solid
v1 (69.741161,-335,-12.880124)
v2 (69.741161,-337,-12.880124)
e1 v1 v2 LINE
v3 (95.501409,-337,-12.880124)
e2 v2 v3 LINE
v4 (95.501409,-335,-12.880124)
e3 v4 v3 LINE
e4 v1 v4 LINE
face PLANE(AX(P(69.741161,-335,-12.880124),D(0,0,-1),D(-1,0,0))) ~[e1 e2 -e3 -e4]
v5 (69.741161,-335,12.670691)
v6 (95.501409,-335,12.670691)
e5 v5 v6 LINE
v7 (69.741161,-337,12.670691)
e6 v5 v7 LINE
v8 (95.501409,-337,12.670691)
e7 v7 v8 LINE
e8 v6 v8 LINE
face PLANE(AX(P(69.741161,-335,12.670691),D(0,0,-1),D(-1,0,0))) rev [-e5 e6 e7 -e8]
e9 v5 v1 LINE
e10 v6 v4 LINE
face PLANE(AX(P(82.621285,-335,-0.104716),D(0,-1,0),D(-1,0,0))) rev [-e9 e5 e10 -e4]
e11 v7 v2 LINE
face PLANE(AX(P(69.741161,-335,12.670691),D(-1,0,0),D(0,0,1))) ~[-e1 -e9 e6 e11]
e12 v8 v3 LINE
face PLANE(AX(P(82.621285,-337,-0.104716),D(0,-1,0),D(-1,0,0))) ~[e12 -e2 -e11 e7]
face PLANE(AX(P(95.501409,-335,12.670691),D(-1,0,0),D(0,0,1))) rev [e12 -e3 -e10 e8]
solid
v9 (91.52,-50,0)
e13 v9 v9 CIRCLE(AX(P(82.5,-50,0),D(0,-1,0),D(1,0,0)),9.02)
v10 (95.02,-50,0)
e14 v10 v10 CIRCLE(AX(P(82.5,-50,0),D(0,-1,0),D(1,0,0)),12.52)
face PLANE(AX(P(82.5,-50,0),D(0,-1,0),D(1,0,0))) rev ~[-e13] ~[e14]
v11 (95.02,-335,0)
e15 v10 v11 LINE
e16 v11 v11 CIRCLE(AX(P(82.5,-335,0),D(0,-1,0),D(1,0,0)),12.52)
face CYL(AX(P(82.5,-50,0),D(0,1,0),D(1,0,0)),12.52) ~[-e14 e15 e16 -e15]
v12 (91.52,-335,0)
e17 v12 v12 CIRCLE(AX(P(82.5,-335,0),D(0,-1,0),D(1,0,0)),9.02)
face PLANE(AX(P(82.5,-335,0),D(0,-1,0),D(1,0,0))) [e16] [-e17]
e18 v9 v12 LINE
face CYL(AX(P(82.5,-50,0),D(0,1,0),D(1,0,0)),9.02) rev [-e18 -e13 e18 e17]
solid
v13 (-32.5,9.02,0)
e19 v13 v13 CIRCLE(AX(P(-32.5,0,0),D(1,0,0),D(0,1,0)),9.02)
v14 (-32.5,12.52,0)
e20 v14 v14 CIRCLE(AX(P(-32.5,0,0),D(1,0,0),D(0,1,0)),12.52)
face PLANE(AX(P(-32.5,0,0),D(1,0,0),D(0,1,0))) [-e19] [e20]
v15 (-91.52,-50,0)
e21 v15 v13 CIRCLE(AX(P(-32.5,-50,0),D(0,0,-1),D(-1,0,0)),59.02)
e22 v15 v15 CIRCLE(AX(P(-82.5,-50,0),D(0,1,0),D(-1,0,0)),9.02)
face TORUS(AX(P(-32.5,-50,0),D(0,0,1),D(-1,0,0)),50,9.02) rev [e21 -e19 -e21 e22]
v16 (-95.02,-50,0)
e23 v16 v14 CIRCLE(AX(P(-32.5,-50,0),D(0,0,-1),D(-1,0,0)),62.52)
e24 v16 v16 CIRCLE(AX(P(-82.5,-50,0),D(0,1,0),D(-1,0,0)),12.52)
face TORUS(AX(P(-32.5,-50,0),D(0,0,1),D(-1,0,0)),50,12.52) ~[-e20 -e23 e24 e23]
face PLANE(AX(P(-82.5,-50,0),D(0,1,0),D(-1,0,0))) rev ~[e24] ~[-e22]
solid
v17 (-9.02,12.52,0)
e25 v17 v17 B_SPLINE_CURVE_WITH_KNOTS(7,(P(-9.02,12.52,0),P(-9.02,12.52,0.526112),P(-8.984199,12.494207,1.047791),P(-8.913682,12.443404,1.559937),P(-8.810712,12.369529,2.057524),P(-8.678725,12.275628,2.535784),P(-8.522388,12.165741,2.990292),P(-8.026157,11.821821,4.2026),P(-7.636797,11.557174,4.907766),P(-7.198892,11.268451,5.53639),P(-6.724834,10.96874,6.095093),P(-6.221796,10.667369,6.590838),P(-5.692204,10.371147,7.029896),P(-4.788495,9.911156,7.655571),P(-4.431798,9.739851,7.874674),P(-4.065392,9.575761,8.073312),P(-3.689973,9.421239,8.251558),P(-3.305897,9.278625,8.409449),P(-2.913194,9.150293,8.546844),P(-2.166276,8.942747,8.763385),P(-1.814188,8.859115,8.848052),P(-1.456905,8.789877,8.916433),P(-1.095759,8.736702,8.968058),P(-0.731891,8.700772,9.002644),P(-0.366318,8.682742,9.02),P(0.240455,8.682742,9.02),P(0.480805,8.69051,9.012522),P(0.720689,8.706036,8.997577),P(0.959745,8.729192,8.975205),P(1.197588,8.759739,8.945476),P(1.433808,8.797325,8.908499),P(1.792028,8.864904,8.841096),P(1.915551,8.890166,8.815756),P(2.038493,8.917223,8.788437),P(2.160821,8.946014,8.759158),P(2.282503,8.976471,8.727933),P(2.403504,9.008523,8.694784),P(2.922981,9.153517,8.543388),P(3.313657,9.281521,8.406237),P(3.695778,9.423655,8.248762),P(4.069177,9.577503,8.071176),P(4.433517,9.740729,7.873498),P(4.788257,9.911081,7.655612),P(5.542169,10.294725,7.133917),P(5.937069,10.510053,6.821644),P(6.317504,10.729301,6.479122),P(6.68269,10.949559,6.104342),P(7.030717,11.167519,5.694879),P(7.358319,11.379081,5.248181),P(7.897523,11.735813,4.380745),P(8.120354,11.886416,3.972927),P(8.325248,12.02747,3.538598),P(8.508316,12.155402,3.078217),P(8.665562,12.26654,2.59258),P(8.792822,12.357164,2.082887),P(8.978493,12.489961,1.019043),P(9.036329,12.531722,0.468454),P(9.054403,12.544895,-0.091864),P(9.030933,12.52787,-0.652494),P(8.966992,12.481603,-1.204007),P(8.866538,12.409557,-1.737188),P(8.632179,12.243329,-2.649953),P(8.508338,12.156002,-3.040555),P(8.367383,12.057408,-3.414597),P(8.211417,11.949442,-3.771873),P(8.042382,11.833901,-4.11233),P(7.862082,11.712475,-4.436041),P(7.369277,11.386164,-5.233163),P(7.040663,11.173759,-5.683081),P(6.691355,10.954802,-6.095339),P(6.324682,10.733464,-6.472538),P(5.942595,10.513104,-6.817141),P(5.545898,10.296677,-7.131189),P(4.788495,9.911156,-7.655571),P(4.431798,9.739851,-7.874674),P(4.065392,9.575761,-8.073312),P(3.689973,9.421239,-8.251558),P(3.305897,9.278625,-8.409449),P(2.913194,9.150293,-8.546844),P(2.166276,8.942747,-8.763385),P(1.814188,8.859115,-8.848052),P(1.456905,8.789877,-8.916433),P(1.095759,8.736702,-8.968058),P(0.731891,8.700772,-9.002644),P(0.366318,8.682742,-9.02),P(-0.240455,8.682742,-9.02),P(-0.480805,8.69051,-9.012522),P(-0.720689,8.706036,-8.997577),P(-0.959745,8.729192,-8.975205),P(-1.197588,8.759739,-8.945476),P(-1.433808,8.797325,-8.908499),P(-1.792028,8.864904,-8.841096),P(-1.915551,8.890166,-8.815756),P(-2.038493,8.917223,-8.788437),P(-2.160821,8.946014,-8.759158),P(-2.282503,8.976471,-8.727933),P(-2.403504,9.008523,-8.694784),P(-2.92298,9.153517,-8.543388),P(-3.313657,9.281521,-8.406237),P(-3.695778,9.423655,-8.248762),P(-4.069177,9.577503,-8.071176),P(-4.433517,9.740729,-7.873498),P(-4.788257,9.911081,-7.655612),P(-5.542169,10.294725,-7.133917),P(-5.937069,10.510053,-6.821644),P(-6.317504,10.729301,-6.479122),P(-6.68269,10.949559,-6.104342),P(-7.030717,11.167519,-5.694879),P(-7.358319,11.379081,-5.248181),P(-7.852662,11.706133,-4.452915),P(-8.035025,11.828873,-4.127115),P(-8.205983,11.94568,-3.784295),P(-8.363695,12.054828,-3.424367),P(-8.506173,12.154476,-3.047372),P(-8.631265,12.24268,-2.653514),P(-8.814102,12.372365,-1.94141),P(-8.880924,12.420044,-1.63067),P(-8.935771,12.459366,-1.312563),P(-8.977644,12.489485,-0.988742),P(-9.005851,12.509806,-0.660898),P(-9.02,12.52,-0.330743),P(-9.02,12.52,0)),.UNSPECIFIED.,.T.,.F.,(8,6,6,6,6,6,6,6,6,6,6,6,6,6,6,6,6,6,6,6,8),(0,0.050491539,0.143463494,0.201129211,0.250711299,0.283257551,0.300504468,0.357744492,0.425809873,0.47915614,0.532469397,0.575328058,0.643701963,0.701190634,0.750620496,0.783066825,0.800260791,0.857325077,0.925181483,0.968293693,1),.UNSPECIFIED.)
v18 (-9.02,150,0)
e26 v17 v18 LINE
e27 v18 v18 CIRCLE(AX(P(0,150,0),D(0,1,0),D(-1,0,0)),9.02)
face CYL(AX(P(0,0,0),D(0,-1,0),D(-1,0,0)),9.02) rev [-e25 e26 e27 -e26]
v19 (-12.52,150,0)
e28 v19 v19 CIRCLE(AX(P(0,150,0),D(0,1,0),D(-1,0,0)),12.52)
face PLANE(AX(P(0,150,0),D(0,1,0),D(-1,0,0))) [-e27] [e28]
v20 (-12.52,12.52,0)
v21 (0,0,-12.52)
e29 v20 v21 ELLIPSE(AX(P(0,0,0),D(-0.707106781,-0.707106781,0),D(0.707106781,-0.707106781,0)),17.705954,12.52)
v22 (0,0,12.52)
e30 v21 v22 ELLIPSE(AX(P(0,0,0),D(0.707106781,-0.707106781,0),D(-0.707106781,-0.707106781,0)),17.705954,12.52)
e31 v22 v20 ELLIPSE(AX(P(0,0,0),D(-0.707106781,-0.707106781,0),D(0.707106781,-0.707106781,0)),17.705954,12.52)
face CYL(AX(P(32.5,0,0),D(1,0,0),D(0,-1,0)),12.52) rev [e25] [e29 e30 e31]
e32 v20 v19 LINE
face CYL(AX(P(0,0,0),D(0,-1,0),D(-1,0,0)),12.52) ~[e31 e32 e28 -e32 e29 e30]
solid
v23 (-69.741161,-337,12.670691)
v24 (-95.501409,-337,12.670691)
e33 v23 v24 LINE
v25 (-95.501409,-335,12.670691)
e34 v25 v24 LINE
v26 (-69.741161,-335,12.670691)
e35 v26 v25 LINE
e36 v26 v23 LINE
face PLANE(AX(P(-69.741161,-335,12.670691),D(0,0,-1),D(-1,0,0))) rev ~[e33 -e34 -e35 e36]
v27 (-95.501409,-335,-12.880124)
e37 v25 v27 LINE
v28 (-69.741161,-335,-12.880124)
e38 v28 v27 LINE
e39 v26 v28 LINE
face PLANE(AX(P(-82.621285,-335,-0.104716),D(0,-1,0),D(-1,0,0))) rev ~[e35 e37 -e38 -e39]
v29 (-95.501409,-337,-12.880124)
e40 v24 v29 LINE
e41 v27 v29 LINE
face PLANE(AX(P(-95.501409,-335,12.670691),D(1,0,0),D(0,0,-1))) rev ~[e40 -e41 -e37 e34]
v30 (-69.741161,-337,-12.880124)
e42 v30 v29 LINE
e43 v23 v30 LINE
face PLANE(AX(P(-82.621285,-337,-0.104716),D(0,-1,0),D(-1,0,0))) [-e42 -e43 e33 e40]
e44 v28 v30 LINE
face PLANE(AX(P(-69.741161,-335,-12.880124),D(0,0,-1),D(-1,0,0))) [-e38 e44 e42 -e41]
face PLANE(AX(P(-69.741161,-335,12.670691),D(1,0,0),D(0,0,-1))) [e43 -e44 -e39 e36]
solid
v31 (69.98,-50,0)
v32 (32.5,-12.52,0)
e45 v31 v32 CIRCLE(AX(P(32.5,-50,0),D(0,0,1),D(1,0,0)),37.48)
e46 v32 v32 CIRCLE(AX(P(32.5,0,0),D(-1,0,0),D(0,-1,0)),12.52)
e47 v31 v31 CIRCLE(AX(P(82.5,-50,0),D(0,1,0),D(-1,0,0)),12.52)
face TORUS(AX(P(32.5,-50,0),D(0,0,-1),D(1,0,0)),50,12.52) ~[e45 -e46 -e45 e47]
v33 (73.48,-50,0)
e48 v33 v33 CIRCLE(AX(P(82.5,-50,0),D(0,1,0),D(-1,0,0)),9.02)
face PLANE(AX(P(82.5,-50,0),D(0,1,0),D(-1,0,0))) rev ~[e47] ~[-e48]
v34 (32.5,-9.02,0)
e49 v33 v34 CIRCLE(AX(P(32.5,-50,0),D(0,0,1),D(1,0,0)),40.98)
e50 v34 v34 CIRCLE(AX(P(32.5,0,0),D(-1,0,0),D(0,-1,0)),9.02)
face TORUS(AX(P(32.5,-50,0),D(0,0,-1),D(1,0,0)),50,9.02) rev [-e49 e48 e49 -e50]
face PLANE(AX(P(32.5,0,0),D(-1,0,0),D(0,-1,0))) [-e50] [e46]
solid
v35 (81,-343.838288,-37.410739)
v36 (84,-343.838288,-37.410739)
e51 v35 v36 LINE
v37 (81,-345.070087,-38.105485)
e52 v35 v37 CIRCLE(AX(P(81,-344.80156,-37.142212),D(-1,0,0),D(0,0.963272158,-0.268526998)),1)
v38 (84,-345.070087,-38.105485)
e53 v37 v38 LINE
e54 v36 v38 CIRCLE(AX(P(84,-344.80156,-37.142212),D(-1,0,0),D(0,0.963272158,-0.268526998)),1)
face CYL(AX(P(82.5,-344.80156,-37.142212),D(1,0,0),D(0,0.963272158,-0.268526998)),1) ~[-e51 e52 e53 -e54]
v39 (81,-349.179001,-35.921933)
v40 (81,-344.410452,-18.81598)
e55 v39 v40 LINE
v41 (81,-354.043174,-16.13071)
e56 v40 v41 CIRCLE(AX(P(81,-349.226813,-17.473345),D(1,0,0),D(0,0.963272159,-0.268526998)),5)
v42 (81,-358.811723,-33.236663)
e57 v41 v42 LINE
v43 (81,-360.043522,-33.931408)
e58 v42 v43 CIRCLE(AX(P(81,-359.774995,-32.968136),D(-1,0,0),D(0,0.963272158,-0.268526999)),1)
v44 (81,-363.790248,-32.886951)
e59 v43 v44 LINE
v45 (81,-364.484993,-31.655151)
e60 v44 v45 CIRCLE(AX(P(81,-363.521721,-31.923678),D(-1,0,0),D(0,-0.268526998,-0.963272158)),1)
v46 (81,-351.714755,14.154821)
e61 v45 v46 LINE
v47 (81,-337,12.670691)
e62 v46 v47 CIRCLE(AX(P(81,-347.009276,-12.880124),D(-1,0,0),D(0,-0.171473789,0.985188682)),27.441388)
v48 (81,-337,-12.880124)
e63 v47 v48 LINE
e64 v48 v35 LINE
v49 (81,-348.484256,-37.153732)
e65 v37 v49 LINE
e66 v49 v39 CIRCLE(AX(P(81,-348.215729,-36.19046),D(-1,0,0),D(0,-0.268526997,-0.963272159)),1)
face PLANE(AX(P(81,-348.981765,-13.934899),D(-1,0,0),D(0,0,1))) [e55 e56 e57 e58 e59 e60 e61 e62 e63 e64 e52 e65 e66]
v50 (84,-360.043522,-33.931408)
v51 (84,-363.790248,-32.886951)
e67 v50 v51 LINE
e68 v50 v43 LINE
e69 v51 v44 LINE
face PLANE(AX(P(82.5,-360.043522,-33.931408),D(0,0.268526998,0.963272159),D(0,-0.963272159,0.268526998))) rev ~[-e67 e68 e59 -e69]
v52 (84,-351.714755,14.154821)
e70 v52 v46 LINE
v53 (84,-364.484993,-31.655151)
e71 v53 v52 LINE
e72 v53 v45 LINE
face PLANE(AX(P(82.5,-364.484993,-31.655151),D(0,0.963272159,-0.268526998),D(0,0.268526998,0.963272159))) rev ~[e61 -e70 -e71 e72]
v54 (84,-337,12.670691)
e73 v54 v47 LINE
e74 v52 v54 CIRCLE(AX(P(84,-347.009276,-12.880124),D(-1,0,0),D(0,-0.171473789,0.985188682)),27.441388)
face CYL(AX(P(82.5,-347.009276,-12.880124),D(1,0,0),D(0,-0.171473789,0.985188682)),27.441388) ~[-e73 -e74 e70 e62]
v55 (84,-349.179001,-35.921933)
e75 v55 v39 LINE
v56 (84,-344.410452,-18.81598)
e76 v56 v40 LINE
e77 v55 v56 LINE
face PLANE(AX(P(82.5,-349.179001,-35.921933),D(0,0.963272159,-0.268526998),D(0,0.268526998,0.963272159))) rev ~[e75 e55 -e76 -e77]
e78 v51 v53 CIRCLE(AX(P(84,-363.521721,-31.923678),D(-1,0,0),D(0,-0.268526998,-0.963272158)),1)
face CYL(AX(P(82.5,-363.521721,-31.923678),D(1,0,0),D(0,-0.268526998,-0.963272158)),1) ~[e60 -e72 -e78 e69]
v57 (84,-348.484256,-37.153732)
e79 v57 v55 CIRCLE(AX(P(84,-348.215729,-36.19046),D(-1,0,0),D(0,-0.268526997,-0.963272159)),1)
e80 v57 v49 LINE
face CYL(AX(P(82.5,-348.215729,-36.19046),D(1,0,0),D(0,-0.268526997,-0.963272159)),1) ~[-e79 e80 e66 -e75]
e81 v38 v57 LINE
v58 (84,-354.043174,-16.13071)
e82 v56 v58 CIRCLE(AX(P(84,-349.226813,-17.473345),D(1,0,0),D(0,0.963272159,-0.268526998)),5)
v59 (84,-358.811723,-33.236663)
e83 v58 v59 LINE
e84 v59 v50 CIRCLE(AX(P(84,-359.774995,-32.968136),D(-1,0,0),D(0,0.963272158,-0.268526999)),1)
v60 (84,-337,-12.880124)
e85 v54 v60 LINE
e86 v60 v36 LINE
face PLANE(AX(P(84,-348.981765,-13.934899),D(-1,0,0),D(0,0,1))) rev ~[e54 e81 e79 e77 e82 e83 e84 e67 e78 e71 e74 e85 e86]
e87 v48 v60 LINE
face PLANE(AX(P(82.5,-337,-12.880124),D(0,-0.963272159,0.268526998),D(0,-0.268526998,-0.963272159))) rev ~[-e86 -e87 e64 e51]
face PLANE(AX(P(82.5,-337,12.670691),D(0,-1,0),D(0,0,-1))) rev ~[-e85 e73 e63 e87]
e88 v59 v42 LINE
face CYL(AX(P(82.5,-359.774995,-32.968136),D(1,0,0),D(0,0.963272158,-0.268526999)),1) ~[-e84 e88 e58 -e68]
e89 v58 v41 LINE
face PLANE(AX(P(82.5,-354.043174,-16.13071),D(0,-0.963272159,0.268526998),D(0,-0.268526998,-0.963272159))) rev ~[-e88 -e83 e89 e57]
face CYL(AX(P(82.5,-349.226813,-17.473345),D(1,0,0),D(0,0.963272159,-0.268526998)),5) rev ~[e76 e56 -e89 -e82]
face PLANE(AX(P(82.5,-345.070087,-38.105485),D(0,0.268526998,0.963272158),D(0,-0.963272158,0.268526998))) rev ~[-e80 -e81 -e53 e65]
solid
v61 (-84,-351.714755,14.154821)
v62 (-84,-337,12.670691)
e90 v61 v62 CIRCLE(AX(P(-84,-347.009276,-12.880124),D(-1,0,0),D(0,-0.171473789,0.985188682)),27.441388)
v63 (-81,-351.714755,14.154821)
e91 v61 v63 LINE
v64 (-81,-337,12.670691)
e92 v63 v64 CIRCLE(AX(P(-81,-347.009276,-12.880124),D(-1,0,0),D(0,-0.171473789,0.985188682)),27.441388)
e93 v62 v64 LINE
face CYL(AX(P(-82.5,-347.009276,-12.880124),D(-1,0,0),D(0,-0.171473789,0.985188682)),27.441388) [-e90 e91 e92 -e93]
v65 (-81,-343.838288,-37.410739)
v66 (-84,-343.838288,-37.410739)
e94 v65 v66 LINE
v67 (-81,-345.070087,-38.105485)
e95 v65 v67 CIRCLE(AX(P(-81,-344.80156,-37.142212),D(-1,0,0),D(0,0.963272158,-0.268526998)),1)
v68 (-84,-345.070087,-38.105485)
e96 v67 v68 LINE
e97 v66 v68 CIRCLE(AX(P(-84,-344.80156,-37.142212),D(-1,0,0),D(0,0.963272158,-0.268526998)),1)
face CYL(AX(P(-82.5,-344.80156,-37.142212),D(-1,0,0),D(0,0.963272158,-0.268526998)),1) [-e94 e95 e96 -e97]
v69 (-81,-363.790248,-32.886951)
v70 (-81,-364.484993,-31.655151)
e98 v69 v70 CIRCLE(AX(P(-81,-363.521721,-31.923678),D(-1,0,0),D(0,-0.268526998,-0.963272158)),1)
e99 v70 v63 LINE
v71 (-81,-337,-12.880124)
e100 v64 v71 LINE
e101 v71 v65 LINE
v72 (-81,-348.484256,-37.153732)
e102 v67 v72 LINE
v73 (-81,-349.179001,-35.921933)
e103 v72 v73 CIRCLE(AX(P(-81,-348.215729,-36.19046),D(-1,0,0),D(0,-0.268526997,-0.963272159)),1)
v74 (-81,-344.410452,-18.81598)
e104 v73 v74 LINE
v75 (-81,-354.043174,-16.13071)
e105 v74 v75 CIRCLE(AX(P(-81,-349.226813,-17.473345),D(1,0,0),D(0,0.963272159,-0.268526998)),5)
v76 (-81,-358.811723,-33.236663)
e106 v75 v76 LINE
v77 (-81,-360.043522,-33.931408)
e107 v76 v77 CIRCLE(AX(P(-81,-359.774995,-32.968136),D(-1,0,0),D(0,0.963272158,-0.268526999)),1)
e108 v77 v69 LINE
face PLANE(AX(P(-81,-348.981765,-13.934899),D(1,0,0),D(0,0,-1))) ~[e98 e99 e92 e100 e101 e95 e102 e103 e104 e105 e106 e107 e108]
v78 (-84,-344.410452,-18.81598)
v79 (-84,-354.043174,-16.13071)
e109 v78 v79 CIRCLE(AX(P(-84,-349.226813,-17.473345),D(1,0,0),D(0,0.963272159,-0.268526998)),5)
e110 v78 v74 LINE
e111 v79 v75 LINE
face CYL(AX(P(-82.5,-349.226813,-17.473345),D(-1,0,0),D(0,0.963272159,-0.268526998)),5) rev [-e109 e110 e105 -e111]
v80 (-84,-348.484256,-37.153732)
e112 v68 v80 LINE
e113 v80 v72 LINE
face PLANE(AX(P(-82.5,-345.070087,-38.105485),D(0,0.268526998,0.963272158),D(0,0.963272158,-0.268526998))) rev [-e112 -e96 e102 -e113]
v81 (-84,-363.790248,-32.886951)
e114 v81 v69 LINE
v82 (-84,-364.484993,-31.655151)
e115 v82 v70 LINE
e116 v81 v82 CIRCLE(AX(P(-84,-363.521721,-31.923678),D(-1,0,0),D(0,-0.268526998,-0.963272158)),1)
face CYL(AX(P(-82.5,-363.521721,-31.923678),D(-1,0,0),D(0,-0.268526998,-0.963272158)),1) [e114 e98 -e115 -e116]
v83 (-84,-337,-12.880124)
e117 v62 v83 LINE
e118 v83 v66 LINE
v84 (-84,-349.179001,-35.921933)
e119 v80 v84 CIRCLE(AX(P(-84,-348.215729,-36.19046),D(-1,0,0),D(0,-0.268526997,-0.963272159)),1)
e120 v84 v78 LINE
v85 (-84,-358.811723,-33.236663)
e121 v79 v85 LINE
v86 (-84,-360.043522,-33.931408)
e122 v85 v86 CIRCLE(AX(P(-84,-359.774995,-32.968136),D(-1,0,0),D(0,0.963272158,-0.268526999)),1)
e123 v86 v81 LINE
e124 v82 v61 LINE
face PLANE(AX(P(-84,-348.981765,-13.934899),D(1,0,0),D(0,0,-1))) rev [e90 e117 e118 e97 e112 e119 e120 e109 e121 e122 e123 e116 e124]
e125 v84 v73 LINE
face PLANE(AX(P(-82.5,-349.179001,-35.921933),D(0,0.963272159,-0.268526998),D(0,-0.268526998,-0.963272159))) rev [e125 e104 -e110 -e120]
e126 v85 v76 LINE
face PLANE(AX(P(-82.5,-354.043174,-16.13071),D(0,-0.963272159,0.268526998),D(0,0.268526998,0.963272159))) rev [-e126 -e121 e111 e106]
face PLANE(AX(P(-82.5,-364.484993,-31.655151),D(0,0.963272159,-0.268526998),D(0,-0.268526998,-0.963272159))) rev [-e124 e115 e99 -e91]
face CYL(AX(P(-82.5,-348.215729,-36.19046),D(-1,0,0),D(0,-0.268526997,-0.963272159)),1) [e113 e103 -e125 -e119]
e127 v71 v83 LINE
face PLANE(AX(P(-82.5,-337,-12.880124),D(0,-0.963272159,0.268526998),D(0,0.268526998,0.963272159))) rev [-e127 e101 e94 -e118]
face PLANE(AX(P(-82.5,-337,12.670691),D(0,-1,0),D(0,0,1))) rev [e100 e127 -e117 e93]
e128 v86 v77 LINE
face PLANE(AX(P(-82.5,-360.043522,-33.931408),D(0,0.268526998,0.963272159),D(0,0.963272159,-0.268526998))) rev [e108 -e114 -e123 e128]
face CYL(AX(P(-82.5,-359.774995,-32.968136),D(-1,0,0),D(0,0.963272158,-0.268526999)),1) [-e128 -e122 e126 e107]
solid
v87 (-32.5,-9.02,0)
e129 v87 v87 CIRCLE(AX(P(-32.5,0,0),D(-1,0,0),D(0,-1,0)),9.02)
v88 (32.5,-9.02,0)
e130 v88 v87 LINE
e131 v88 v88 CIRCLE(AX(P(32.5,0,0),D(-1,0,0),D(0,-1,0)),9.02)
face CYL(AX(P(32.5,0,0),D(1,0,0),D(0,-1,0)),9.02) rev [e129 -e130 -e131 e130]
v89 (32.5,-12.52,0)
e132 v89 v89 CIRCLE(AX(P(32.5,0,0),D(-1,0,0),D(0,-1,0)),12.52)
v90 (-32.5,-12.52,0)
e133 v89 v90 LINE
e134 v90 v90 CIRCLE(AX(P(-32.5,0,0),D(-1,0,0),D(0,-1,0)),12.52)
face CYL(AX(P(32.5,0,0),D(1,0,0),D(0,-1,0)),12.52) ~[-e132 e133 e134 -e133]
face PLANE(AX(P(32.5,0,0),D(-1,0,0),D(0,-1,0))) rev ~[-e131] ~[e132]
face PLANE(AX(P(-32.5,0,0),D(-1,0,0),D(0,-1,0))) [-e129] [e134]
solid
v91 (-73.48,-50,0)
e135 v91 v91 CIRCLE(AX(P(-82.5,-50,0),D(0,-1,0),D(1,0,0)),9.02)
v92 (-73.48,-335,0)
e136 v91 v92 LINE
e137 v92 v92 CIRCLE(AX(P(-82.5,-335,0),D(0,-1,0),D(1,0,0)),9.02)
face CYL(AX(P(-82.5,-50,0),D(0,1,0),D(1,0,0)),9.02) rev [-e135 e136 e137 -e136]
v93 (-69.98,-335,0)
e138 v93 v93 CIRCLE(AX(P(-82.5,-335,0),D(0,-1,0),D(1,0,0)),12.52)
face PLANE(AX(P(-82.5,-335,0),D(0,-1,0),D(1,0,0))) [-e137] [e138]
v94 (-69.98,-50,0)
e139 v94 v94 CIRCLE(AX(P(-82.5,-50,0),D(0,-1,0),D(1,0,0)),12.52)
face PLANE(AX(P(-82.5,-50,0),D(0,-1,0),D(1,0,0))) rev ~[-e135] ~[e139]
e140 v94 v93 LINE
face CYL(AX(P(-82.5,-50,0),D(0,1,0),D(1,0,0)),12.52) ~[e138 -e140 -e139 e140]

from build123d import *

# Parameters (mm, degrees)
SKETCH11_ON_SEGMENT_1_R       = 12.52
SKETCH11_ON_SEGMENT_1_R_2     = 9.02
NEW_FOLDER_FORK_ROD_1_DEPTH   = 285
SKETCH11_ON_SEGMENT_2_R       = 12.52
SKETCH11_ON_SEGMENT_2_R_2     = 9.02
NEW_FOLDER_FORK_ROD_1_2_ANGLE = 90
SKETCH11_ON_SEGMENT_3_R       = 12.52
SKETCH11_ON_SEGMENT_3_R_2     = 9.02
NEW_FOLDER_FORK_ROD_1_3_DEPTH = 65
SKETCH11_ON_SEGMENT_4_R       = 12.52
SKETCH11_ON_SEGMENT_4_R_2     = 9.02
NEW_FOLDER_FORK_ROD_1_4_ANGLE = 90
SKETCH11_R                    = 12.52
SKETCH11_R_2                  = 9.02
NEW_FOLDER_FORK_ROD_1_5_DEPTH = 285
SKETCH12_R                    = 12.52
SKETCH12_R_2                  = 9.02
NEW_FOLDER_FORK_ROD_2_DEPTH   = 150
SKETCH13_W                    = 25.760248547
SKETCH13_H                    = 25.550815633
BOSS_EXTRUDE1_DEPTH           = 2
BOSS_EXTRUDE2_DEPTH           = 1.5


with BuildPart() as part:
    # Sketch11 on segment 1 (carried to segment 1) → New folder FORK ROD(1) (new body)
    with BuildSketch(Plane(origin=(82.5, -50, 0), x_dir=(1, 0, 0), z_dir=(0, -1, 0))):
        Circle(SKETCH11_ON_SEGMENT_1_R)
        Circle(SKETCH11_ON_SEGMENT_1_R_2, mode=Mode.SUBTRACT)
    extrude(amount=NEW_FOLDER_FORK_ROD_1_DEPTH)


with BuildPart() as body_2:
    # Sketch11 on segment 2 (carried to the start of arc 2) → New folder FORK ROD_1 2 (revolve)
    with BuildSketch(Plane(origin=(82.5, -50, 0), x_dir=(-1, 0, 0), z_dir=(0, 1, 0))):
        Circle(SKETCH11_ON_SEGMENT_2_R)
        Circle(SKETCH11_ON_SEGMENT_2_R_2, mode=Mode.SUBTRACT)
    revolve(axis=Axis((32.5, -50, 0), (0, 0, 1)), revolution_arc=NEW_FOLDER_FORK_ROD_1_2_ANGLE)


with BuildPart() as body_3:
    # Sketch11 on segment 3 (carried to segment 3) → New folder FORK ROD_1 3 (new body)
    with BuildSketch(Plane(origin=(32.5, 0, 0), x_dir=(0, -1, 0), z_dir=(-1, 0, 0))):
        Circle(SKETCH11_ON_SEGMENT_3_R)
        Circle(SKETCH11_ON_SEGMENT_3_R_2, mode=Mode.SUBTRACT)
    extrude(amount=NEW_FOLDER_FORK_ROD_1_3_DEPTH)


with BuildPart() as body_4:
    # Sketch11 on segment 4 (carried to the start of arc 4) → New folder FORK ROD_1 4 (revolve)
    with BuildSketch(Plane(origin=(-82.5, -50, 0), x_dir=(-1, 0, 0), z_dir=(0, 1, 0))):
        Circle(SKETCH11_ON_SEGMENT_4_R)
        Circle(SKETCH11_ON_SEGMENT_4_R_2, mode=Mode.SUBTRACT)
    revolve(axis=Axis((-32.5, -50, 0), (0, 0, -1)), revolution_arc=NEW_FOLDER_FORK_ROD_1_4_ANGLE)


with BuildPart() as body_5:
    # Sketch11 → New folder FORK ROD_1 5 (new body)
    with BuildSketch(Plane(origin=(-82.5, -50, 0), x_dir=(1, 0, 0), z_dir=(0, -1, 0))):
        Circle(SKETCH11_R)
        Circle(SKETCH11_R_2, mode=Mode.SUBTRACT)
    extrude(amount=NEW_FOLDER_FORK_ROD_1_5_DEPTH)


with BuildPart() as body_6:
    # Sketch12 → New folder FORK ROD(2) (new body)
    with BuildSketch(Plane(origin=(0, 0, 0), x_dir=(-1, 0, 0), z_dir=(0, 1, 0))):
        Circle(SKETCH12_R)
        Circle(SKETCH12_R_2, mode=Mode.SUBTRACT)
    extrude(amount=NEW_FOLDER_FORK_ROD_2_DEPTH)

    # Trim/Extend1: cut back where it meets the other member's skin (coped)
    split(bisect_by=body_3.part.faces().sort_by_distance((0, 12.52, 0))[0], keep=Keep.TOP)


with BuildPart() as body_7:
    # Sketch13 → Boss-Extrude1 (new body)
    with BuildSketch(Plane(origin=(0, -335, 0), x_dir=(-1, 0, 0), z_dir=(0, -1, 0))):
        with Locations((82.621284974, 0.104716457)):
            Rectangle(SKETCH13_W, SKETCH13_H)
    extrude(amount=BOSS_EXTRUDE1_DEPTH)


with BuildPart() as body_8:
    # Mirror1: mirrored copy
    add(body_7.part.mirror(Plane(origin=(0, 0, 0), x_dir=(0, 0, 1), z_dir=(1, 0, 0))))


with BuildPart() as body_9:
    # Sketch14 → Boss-Extrude2 (new, symmetric)
    with BuildSketch(Plane(origin=(82.5, 0, 0), x_dir=(0, 0, -1), z_dir=(1, 0, 0))):
        with BuildLine():
            Line((38.10548457, -345.070087153), (37.153732285, -348.484255875))
            ThreePointArc((37.153732285, -348.484255875), (36.681719141, -349.086742414), (35.921933129, -349.179001036))
            Line((35.921933129, -349.179001036), (18.815979596, -344.410452181))
            ThreePointArc((18.815979596, -344.410452181), (12.656983814, -347.884177984), (16.130709617, -354.043173767))
            Line((16.130709617, -354.043173767), (33.23666315, -358.811722621))
            ThreePointArc((33.23666315, -358.811722621), (33.839149688, -359.283735765), (33.93140831, -360.043521778))
            Line((33.93140831, -360.043521778), (32.886950587, -363.790247633))
            ThreePointArc((32.886950587, -363.790247633), (32.414937442, -364.392734172), (31.65515143, -364.484992794))
            Line((31.65515143, -364.484992794), (-14.154820916, -351.714755184))
            ThreePointArc((-14.154820916, -351.714755184), (-14.422743073, -344.255510354), (-12.670691359, -337))
            Line((-12.670691359, -337), (12.880124274, -337))
            Line((12.880124274, -337), (37.410739409, -343.838287996))
            ThreePointArc((37.410739409, -343.838287996), (38.013225948, -344.310301141), (38.10548457, -345.070087153))
        make_face()
    extrude(amount=BOSS_EXTRUDE2_DEPTH, both=True)


with BuildPart() as body_10:
    # Mirror2: mirrored copy
    add(body_9.part.mirror(Plane(origin=(0, 0, 0), x_dir=(0, 0, 1), z_dir=(1, 0, 0))))


solid = Compound([part.part, body_2.part, body_3.part, body_4.part, body_5.part, body_6.part, body_7.part, body_8.part, body_9.part, body_10.part])
